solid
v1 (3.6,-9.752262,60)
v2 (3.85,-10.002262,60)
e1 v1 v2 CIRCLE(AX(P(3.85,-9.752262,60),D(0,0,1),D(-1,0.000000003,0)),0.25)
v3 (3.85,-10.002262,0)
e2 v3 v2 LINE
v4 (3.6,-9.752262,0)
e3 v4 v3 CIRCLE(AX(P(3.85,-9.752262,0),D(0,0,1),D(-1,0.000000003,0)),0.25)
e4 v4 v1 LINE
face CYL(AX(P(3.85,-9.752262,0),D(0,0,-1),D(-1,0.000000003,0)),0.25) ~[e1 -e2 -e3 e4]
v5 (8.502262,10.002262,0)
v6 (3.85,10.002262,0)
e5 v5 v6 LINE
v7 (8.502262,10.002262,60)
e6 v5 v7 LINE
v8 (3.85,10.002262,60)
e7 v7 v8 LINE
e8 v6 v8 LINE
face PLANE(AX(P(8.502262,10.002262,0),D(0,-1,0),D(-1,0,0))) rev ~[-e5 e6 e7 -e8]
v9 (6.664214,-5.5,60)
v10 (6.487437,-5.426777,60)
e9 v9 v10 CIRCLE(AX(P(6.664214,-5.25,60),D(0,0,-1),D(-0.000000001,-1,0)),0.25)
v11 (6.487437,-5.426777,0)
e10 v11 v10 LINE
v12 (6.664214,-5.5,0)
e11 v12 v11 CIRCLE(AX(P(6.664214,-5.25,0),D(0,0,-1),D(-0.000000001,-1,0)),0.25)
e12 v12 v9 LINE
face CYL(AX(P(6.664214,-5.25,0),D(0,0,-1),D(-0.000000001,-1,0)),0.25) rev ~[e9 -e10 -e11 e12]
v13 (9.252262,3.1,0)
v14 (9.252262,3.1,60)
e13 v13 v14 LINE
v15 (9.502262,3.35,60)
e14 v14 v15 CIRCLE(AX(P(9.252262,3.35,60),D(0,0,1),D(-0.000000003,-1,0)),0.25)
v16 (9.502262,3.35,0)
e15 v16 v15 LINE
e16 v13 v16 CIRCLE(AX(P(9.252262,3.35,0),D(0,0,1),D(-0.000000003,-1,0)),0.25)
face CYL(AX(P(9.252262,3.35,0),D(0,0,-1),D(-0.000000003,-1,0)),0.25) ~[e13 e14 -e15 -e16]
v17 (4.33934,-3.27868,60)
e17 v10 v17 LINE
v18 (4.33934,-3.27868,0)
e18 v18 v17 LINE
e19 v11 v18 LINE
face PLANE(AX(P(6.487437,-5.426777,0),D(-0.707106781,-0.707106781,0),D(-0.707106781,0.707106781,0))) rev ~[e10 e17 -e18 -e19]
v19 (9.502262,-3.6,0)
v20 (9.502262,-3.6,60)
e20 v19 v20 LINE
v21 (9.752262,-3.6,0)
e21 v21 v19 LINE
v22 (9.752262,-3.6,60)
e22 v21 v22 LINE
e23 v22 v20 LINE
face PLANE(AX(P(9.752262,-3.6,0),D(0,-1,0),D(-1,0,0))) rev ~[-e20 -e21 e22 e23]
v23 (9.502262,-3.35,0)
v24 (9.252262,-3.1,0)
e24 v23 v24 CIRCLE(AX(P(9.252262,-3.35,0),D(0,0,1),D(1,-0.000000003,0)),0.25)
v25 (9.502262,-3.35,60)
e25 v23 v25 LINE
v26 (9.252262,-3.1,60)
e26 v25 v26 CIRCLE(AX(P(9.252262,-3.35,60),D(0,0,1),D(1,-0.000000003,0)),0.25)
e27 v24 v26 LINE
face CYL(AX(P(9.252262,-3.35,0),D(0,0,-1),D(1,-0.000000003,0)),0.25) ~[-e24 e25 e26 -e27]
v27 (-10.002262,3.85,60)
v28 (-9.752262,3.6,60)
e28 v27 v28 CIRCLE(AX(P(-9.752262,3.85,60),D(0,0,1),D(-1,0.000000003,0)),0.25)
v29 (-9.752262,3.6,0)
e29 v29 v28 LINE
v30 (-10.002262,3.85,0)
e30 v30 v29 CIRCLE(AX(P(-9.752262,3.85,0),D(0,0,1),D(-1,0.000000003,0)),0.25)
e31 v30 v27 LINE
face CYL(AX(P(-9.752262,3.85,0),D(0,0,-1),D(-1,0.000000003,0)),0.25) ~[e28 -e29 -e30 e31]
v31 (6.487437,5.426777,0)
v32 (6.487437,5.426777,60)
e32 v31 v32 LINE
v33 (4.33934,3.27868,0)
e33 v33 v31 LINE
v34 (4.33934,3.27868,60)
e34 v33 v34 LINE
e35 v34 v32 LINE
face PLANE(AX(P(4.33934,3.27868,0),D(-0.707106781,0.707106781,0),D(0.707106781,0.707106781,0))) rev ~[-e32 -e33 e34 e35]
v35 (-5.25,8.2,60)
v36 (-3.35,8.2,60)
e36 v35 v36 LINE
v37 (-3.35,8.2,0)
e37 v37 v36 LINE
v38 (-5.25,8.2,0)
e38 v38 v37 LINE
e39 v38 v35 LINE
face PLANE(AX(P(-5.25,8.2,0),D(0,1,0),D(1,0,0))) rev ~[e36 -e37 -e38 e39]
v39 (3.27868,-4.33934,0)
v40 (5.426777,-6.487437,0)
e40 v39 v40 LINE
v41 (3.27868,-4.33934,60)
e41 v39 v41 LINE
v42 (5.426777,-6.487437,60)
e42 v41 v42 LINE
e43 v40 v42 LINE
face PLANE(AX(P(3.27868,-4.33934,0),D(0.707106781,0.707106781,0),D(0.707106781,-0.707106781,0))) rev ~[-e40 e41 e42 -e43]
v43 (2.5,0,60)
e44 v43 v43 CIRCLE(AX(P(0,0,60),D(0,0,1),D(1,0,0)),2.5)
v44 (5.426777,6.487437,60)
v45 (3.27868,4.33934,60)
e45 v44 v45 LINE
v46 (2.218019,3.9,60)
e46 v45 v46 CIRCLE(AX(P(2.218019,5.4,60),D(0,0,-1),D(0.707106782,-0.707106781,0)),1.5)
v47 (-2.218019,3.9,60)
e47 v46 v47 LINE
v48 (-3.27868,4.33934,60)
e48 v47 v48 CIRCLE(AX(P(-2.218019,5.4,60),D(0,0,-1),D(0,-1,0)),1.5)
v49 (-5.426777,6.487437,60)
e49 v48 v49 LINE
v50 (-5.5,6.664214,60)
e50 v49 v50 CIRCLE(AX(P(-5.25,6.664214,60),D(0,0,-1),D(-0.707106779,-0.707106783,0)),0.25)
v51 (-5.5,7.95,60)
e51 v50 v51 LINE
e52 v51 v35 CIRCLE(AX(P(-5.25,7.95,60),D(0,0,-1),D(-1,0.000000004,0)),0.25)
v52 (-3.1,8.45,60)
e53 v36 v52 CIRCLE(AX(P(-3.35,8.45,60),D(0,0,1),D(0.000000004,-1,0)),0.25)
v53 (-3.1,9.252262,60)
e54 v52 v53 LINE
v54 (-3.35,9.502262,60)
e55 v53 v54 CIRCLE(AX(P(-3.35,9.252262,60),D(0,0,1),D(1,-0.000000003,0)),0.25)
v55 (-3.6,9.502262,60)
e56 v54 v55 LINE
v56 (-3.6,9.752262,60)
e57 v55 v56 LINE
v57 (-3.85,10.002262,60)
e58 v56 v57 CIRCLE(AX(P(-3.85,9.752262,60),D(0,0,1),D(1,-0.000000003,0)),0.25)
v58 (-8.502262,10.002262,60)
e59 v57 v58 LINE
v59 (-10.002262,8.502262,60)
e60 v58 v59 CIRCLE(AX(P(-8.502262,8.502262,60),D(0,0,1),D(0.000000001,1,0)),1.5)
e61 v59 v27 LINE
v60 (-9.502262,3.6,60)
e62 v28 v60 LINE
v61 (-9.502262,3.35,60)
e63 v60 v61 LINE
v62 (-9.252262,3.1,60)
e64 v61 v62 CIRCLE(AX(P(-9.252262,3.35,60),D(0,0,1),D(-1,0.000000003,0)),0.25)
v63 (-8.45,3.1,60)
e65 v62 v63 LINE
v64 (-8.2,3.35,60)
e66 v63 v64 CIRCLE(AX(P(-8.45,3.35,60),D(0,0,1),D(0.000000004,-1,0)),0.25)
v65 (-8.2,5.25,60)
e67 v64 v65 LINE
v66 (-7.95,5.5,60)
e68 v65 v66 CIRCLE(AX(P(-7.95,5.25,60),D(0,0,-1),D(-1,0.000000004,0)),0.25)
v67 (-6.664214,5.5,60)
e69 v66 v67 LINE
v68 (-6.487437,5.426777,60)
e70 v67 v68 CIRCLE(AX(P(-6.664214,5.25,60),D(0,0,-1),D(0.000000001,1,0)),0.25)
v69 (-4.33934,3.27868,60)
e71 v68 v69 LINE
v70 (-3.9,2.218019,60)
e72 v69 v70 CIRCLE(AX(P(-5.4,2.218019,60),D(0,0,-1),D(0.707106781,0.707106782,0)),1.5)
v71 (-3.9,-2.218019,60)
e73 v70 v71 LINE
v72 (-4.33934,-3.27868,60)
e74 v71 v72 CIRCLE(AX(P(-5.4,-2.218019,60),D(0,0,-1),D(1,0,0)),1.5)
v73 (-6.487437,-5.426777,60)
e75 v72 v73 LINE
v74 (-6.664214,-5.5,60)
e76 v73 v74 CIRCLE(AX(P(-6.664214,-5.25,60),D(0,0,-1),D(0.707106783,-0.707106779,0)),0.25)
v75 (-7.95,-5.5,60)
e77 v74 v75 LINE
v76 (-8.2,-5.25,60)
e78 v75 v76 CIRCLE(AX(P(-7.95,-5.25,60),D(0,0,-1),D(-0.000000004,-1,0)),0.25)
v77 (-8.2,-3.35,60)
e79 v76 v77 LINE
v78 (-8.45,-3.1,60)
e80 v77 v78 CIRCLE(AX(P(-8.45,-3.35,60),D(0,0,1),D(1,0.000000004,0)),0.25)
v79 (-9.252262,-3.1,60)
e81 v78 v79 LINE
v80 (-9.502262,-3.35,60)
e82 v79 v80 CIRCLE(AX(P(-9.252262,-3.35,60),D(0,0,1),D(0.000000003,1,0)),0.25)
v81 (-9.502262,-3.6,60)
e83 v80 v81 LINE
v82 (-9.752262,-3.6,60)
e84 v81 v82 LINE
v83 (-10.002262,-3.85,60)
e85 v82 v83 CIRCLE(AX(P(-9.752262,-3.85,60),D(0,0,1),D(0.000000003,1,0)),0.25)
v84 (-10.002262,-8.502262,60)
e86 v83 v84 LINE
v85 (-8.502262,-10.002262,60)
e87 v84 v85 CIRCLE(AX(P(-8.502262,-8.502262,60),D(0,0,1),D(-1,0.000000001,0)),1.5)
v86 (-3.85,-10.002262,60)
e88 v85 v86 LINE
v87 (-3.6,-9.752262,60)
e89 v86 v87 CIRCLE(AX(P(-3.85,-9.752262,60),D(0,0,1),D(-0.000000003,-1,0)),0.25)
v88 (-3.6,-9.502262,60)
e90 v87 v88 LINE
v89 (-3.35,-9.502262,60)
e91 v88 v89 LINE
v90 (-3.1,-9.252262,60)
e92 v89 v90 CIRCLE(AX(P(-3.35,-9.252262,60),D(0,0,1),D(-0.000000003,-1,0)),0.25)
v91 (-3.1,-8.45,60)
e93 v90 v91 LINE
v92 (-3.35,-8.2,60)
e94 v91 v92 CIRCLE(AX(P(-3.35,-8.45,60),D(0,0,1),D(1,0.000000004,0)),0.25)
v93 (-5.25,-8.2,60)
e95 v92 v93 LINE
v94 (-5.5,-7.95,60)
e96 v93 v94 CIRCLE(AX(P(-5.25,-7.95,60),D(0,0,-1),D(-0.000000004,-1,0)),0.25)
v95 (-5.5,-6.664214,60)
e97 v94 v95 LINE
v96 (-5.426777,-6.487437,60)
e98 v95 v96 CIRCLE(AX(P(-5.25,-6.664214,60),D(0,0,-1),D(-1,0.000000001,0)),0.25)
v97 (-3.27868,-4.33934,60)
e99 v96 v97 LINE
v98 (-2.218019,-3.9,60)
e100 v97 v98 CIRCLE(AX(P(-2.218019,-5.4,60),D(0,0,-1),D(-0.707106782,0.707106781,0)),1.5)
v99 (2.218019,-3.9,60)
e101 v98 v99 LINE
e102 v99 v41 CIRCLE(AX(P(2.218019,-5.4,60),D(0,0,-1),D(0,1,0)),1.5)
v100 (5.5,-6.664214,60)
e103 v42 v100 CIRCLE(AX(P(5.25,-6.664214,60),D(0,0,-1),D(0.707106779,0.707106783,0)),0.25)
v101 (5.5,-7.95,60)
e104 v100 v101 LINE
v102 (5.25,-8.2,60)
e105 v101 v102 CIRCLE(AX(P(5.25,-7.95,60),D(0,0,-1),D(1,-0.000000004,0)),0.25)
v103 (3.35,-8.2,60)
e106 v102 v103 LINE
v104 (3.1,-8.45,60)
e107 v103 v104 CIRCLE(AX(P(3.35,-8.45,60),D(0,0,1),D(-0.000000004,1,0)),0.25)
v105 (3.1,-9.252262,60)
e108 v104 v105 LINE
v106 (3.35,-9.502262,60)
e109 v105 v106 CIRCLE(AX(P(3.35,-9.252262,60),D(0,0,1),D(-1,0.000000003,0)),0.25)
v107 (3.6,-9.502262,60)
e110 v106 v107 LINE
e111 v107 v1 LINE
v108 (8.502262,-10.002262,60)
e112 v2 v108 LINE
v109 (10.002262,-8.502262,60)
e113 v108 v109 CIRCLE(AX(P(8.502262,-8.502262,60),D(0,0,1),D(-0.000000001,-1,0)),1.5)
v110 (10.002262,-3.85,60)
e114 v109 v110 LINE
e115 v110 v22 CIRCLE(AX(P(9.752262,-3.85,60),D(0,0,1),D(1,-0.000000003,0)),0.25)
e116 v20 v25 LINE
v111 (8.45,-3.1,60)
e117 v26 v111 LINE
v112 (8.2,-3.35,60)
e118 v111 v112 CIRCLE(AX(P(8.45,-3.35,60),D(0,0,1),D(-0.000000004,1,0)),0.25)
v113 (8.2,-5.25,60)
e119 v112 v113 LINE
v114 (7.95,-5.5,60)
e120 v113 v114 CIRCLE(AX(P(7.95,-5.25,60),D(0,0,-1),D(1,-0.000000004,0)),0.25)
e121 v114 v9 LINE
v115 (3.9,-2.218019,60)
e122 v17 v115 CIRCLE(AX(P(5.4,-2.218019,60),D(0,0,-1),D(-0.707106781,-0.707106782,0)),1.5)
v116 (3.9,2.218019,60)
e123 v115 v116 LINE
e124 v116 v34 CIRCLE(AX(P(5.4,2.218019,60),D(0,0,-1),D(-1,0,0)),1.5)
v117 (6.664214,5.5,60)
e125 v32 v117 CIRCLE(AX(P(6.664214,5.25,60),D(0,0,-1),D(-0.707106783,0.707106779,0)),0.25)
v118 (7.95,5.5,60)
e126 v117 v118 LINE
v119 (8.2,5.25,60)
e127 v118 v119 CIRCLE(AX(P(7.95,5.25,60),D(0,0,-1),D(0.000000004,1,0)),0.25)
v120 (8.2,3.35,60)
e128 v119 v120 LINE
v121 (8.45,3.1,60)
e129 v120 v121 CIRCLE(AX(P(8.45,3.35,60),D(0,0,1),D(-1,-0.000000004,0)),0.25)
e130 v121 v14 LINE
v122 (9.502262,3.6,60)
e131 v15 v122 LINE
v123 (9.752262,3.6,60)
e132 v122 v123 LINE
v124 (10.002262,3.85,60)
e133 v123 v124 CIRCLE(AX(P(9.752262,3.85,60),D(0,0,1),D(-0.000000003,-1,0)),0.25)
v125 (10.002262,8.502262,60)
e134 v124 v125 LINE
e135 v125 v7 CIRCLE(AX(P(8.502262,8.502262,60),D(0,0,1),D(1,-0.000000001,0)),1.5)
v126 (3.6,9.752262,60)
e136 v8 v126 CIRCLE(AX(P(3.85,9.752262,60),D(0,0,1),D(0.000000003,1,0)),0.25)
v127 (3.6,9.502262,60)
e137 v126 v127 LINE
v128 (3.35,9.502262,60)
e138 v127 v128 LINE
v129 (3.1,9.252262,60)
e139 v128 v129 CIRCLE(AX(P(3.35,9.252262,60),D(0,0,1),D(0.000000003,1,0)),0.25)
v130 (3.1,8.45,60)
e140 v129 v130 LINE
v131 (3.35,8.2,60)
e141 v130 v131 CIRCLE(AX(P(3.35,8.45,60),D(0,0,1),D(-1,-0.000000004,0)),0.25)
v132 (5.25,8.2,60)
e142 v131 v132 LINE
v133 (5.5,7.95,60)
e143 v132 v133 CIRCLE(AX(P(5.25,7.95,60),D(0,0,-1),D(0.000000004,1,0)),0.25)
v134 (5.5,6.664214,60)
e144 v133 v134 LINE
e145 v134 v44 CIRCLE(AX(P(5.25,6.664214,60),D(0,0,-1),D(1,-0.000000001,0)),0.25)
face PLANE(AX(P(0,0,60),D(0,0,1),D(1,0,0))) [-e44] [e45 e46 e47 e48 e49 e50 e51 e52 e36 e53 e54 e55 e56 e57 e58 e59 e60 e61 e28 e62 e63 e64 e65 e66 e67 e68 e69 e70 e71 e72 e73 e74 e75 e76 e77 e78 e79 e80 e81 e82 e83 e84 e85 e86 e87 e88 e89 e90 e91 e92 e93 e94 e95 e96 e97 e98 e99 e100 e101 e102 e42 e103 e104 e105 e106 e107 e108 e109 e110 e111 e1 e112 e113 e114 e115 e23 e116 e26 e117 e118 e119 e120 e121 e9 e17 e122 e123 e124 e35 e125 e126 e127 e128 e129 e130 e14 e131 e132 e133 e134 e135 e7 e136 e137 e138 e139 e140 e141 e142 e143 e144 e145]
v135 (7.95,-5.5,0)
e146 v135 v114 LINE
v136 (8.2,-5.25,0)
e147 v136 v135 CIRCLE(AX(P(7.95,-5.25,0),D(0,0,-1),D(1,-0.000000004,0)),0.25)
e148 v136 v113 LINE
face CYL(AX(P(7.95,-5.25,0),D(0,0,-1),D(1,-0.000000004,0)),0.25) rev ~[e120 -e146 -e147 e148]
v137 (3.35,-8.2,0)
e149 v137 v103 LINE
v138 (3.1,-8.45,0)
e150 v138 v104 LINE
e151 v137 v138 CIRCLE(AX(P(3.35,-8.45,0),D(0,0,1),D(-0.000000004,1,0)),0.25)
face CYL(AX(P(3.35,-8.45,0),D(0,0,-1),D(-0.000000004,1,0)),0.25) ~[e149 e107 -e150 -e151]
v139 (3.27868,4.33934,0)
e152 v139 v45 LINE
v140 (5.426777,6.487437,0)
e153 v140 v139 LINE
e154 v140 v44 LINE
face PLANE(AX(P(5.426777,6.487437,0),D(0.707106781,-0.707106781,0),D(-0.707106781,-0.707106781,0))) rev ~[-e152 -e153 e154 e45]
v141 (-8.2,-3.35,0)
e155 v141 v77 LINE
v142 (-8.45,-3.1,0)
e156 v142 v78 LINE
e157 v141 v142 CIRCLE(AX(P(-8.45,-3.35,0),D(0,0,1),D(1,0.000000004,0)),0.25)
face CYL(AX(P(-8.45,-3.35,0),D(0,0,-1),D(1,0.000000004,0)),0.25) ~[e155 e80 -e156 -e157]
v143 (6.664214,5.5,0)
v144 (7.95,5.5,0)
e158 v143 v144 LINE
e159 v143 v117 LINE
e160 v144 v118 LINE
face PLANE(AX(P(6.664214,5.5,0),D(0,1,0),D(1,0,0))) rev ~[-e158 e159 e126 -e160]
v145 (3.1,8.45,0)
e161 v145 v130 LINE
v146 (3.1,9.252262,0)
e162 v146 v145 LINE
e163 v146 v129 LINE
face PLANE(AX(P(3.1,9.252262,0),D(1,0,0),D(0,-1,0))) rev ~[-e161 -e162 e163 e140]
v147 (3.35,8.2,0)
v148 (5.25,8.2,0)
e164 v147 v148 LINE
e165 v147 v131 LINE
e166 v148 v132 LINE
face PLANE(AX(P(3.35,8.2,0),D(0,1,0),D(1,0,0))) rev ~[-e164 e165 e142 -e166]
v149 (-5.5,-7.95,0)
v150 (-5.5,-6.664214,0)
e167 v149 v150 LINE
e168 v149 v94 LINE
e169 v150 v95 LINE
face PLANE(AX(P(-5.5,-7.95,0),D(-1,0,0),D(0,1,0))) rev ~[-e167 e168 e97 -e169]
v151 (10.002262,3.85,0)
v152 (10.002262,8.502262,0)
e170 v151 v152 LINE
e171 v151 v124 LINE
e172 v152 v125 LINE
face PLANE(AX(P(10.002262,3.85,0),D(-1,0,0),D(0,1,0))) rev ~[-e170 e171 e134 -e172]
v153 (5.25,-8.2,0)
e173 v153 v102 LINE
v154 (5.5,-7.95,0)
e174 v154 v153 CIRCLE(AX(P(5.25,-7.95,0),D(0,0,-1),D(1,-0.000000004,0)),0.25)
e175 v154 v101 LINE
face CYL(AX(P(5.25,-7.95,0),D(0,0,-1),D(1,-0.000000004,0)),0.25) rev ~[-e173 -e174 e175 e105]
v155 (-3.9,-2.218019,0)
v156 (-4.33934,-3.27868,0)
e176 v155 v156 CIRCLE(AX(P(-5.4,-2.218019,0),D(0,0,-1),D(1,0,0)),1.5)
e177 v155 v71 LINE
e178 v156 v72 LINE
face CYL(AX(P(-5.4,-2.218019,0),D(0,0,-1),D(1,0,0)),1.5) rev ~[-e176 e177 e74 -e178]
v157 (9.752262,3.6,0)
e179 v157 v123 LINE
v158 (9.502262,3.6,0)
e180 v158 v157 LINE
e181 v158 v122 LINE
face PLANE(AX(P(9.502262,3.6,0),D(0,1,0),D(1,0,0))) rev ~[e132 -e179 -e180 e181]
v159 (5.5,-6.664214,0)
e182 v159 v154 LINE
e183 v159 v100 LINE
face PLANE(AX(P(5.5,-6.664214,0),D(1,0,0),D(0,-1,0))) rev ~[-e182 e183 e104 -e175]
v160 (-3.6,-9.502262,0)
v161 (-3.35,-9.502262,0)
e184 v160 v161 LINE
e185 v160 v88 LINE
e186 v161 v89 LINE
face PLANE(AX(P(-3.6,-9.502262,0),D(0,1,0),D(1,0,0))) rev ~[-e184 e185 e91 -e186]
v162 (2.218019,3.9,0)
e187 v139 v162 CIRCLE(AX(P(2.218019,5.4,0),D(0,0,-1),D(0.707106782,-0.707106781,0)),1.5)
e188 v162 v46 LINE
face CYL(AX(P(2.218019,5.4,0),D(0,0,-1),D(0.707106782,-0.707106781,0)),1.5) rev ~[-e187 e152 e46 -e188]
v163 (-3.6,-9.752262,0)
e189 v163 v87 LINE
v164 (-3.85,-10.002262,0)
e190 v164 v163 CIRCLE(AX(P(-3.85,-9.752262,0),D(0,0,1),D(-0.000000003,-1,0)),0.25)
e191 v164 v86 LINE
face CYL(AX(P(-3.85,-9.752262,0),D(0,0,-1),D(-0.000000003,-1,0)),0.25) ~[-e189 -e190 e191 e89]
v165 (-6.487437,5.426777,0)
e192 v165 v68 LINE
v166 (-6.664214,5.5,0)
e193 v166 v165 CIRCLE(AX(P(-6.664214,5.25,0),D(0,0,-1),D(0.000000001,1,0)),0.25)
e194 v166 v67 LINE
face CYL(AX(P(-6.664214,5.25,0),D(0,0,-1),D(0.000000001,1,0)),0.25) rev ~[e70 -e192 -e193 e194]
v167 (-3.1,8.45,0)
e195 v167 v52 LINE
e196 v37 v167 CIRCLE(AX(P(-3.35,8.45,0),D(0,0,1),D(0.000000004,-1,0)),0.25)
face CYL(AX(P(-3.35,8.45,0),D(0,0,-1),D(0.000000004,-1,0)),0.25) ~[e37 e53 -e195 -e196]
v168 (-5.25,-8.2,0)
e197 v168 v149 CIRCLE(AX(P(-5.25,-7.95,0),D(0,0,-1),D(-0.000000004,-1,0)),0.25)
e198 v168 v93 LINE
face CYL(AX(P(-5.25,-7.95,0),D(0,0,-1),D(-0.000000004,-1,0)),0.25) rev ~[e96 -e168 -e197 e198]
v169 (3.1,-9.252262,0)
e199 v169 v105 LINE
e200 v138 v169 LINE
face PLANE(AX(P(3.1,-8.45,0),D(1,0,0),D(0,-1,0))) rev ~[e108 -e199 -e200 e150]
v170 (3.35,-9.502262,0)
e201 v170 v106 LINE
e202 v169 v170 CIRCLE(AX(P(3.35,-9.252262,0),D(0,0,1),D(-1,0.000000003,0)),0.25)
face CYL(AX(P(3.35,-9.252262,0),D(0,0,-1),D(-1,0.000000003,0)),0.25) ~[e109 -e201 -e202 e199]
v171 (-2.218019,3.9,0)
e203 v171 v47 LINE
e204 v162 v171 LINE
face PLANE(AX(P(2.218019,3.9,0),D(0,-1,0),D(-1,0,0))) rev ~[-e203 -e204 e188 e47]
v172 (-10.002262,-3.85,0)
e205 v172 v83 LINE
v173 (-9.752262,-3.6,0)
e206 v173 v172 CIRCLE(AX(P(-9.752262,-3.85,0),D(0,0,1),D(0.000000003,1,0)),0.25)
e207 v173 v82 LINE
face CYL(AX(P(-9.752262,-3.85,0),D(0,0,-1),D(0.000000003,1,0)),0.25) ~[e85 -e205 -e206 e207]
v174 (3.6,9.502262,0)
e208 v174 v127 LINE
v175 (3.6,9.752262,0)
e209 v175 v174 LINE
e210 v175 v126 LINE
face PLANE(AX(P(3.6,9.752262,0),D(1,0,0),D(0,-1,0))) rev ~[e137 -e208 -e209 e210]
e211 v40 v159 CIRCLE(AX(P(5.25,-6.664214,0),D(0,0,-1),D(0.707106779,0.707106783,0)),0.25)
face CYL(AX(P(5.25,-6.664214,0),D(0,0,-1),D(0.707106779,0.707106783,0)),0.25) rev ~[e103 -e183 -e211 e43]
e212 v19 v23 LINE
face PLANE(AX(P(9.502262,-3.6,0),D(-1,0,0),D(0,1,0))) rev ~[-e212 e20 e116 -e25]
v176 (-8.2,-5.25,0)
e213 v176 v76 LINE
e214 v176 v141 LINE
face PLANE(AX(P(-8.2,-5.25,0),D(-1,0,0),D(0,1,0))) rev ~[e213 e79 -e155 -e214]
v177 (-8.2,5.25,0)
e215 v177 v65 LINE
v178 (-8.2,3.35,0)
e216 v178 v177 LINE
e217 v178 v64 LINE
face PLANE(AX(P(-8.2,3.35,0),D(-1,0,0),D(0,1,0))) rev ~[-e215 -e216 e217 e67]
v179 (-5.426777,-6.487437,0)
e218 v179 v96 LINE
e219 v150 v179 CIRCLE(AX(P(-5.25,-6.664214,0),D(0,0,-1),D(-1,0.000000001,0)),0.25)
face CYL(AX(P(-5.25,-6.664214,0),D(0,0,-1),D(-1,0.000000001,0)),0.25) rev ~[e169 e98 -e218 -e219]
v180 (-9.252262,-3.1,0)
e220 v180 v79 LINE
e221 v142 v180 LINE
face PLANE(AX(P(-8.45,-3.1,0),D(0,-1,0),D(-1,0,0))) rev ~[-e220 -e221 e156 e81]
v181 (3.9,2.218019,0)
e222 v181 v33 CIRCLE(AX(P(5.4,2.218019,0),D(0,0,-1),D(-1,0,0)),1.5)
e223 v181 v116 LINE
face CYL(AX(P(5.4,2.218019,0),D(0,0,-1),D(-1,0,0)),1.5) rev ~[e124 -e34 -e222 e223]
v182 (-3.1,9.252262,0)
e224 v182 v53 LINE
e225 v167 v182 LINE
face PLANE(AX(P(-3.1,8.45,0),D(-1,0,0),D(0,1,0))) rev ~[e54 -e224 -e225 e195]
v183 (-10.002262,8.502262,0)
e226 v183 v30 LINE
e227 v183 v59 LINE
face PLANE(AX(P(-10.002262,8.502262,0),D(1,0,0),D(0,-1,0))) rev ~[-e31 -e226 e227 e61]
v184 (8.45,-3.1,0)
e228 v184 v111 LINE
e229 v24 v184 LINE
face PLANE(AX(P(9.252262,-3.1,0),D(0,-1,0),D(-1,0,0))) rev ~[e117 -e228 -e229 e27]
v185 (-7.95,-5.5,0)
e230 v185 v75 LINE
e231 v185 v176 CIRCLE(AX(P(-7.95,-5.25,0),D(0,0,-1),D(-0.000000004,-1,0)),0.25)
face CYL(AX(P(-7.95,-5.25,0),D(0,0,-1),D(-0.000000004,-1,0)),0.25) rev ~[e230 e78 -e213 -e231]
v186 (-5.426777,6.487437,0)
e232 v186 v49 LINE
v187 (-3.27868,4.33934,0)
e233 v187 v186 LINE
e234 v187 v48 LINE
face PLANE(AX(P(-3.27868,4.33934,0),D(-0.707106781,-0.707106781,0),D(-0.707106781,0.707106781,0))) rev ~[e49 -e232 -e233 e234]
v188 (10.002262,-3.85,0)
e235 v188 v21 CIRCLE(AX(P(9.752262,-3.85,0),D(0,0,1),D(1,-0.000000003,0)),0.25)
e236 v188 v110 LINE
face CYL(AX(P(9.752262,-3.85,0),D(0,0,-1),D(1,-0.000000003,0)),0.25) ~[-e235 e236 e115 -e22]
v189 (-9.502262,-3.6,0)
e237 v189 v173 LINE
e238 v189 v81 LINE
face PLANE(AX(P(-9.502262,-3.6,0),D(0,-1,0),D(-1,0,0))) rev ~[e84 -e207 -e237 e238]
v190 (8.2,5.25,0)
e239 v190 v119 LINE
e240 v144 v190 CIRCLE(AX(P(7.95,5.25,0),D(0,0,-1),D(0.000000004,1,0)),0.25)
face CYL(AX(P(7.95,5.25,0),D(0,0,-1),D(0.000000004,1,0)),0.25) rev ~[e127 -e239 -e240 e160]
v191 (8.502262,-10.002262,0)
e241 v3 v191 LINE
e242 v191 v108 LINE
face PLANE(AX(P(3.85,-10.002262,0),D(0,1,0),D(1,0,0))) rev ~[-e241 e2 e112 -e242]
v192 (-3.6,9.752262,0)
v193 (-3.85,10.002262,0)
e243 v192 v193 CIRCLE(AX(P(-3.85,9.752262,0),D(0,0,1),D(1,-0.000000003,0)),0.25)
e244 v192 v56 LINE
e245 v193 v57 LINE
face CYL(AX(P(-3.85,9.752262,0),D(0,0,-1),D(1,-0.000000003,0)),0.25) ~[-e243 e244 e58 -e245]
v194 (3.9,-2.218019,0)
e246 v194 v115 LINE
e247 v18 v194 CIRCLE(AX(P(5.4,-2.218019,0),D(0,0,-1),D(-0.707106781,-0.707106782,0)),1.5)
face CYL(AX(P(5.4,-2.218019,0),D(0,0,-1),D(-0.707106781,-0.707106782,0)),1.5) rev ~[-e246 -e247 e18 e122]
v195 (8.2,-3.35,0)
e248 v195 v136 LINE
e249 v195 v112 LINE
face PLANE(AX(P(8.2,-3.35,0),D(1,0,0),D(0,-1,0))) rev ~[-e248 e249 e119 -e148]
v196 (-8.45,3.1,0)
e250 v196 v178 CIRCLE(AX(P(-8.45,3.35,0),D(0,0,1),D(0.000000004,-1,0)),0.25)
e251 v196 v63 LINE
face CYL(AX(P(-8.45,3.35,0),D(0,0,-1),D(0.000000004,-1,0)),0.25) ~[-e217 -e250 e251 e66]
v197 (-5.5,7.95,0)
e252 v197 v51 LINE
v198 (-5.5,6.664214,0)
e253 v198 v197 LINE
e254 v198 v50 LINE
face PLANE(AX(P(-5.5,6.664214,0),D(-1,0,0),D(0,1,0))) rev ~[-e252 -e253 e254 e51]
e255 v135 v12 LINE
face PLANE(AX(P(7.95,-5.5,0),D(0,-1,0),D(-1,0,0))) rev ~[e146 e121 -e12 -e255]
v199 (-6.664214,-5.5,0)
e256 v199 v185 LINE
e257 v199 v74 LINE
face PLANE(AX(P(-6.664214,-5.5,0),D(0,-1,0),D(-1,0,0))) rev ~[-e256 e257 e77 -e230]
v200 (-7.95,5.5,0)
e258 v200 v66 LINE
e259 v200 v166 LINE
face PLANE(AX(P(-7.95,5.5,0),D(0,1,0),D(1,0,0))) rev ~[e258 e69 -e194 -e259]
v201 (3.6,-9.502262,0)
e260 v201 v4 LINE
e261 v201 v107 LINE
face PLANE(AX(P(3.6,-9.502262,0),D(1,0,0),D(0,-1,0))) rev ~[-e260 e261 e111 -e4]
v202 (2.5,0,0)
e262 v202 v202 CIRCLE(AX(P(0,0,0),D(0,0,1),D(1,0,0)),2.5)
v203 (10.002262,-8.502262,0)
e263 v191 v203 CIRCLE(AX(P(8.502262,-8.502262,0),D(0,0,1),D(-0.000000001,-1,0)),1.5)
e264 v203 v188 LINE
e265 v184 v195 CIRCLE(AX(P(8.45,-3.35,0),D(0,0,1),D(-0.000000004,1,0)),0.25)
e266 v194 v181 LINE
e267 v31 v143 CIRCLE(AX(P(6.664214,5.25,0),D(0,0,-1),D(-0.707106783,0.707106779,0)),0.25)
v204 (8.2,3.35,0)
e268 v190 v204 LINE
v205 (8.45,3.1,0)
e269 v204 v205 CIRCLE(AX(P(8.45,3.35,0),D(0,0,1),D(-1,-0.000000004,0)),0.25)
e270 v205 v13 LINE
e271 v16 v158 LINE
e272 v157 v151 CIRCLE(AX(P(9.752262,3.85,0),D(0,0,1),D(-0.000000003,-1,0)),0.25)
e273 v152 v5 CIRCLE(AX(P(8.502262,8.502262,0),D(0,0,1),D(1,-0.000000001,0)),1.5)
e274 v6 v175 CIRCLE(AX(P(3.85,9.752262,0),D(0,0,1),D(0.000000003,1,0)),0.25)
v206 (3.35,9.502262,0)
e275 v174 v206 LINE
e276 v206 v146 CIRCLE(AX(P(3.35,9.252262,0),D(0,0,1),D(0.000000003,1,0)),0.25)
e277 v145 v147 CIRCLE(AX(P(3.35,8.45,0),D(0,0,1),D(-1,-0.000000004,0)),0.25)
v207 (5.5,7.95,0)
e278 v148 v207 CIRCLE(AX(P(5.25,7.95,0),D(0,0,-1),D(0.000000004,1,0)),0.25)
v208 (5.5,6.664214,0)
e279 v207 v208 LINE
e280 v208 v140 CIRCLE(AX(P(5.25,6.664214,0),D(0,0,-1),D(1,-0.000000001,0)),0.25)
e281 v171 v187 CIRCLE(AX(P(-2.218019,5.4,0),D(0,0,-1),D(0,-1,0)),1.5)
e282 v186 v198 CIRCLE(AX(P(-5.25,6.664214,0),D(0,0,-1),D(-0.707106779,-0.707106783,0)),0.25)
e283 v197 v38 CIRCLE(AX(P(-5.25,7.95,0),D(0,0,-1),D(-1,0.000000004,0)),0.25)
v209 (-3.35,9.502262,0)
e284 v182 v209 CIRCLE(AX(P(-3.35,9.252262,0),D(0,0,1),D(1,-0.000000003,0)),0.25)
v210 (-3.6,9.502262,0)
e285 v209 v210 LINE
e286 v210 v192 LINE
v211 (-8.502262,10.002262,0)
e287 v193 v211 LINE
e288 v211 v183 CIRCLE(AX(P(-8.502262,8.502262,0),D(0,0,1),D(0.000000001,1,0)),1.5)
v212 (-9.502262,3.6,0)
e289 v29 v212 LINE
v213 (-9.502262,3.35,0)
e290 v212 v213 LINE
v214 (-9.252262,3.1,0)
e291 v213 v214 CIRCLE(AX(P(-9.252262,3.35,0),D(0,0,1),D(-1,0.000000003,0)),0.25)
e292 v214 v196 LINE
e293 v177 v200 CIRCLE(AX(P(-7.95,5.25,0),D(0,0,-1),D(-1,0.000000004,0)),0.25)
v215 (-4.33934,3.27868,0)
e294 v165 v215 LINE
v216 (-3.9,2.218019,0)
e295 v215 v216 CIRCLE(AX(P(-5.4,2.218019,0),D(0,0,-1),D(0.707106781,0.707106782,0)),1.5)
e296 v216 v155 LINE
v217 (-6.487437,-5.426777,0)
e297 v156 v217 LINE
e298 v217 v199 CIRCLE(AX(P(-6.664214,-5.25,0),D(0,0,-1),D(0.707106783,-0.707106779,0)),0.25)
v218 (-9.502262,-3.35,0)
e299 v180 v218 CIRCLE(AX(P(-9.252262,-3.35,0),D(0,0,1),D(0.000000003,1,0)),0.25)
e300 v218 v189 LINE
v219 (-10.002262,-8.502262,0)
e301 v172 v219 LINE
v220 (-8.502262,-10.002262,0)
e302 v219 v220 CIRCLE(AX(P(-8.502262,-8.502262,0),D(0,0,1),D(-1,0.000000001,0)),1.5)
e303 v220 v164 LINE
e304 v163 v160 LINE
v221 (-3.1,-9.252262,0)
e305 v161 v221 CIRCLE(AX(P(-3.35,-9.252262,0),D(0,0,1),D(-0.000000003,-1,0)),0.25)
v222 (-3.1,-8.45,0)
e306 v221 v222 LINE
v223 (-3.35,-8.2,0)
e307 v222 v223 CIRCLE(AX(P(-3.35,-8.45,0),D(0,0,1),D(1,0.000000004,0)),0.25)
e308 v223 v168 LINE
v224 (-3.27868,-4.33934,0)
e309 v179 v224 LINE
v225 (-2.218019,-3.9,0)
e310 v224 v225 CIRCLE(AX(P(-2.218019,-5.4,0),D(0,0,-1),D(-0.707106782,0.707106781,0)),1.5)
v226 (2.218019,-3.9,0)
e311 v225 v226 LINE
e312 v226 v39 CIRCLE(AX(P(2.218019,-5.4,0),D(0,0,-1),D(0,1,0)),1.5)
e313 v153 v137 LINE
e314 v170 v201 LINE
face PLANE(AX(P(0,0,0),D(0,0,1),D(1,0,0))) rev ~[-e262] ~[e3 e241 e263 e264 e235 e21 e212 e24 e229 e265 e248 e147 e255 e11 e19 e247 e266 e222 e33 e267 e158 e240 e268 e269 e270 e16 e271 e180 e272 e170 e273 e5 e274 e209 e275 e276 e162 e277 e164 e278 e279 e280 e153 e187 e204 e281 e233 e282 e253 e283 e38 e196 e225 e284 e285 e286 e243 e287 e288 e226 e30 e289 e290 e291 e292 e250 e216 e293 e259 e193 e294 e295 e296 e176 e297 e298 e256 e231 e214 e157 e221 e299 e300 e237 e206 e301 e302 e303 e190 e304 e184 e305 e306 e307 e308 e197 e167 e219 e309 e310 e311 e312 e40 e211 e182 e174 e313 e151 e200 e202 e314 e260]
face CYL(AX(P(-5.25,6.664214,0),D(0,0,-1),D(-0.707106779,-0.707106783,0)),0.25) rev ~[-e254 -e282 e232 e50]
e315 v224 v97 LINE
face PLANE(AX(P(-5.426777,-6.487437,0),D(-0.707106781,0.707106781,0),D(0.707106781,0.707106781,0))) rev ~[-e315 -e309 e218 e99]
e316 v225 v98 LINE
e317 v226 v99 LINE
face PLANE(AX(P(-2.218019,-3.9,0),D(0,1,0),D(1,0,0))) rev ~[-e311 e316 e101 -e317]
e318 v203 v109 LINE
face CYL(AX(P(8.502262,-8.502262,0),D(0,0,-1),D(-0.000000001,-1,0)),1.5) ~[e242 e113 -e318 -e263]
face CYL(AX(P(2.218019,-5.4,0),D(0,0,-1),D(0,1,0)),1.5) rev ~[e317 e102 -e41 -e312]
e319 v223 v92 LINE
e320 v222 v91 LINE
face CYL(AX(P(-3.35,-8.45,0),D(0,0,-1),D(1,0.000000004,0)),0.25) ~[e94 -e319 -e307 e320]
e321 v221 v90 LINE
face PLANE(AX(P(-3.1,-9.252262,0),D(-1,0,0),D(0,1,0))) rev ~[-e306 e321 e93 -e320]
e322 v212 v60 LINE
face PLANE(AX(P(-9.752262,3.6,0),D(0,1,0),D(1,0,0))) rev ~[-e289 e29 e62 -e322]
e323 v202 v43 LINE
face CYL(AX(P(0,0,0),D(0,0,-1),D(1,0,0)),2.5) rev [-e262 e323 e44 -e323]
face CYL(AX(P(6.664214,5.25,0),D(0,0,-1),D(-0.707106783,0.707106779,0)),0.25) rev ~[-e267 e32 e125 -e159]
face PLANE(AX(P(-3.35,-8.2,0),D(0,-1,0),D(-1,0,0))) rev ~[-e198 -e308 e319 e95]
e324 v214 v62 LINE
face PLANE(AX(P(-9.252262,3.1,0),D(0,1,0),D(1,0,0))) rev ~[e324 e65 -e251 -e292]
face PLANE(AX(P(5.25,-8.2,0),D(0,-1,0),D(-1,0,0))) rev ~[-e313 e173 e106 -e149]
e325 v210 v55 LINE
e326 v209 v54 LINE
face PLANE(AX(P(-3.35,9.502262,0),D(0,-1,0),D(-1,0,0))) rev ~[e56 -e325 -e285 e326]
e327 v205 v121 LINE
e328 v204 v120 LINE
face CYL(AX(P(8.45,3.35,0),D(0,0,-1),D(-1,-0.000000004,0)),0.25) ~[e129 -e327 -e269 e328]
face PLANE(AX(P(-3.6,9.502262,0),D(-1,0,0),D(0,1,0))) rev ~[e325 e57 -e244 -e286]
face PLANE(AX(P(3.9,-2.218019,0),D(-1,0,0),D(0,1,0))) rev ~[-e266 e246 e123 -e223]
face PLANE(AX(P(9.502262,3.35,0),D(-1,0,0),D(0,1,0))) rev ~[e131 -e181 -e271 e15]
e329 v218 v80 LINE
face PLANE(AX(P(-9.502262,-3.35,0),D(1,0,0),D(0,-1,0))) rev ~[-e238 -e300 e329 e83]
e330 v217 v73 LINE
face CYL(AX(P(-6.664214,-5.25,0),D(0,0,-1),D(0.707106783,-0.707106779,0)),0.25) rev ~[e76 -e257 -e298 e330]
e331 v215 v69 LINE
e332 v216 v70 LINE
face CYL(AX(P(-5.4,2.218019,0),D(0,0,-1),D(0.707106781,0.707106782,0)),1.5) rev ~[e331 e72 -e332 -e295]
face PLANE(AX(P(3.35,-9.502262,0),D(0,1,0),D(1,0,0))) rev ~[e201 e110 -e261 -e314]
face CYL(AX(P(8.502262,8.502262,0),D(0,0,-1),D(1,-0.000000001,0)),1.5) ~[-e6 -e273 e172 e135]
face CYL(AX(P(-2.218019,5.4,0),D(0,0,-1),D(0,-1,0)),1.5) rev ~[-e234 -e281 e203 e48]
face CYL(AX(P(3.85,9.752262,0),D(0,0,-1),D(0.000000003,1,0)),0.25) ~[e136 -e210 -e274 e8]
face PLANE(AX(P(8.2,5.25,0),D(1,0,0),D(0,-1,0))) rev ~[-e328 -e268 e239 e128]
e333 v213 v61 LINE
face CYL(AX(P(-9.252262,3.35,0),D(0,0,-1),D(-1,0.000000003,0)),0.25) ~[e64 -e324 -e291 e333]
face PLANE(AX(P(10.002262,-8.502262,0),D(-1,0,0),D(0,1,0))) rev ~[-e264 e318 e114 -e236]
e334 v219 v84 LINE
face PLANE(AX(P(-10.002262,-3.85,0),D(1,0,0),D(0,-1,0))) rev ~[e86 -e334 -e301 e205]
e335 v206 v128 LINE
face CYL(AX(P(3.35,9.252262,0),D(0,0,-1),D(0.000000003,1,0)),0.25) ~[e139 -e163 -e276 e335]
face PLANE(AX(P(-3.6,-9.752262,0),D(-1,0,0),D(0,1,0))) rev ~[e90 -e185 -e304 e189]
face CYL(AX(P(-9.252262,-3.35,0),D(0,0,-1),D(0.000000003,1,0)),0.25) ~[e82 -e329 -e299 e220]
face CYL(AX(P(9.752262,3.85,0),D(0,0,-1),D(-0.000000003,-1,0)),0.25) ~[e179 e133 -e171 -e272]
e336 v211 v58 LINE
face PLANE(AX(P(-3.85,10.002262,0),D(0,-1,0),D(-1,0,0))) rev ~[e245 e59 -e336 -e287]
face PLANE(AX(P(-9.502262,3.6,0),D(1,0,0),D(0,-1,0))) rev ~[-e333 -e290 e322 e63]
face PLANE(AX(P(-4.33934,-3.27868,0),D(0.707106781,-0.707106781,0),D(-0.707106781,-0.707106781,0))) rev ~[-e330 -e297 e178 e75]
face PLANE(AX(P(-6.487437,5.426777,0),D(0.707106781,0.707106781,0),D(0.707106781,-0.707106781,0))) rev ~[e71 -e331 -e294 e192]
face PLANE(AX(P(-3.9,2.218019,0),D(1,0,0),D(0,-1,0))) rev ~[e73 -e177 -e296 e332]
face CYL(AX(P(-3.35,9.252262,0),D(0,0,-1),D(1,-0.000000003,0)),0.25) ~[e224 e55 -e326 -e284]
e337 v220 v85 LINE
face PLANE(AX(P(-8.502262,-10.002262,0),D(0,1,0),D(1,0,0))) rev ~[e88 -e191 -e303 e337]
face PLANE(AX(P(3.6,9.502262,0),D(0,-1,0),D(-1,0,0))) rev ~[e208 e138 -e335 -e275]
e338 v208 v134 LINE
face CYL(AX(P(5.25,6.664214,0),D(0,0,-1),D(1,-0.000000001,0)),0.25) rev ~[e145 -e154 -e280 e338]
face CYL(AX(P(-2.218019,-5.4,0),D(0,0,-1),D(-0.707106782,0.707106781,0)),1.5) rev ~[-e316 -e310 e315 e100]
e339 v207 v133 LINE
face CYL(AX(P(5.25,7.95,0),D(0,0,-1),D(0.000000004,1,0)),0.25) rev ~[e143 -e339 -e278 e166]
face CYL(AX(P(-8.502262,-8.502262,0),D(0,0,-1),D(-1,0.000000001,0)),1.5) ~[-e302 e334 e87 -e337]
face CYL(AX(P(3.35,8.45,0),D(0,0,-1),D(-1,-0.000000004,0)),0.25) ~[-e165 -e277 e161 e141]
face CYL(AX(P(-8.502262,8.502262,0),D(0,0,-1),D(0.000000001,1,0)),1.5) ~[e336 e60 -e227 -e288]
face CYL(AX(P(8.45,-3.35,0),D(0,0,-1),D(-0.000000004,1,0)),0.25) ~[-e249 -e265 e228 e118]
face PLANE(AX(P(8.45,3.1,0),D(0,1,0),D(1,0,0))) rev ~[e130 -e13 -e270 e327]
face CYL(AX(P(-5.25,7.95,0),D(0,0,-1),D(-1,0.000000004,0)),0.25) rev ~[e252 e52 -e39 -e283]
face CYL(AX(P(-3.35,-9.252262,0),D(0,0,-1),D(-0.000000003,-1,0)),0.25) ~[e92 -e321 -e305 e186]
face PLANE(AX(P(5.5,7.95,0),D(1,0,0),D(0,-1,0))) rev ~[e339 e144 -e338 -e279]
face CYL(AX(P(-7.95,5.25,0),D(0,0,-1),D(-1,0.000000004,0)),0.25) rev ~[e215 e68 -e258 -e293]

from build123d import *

# Parameters (mm, degrees)
SKETCH_1_R      = 2.5
EXTRUDE_1_DEPTH = 60


with BuildPart() as part:
    # 草图1 → 凸台-拉伸1 (new body)
    with BuildSketch(Plane.XY):
        with BuildLine():
            Line((-8.502261885, -10.002261885), (-3.85, -10.002261885))
            ThreePointArc((-3.85, -10.002261885), (-3.673223305, -9.929038581), (-3.6, -9.752261885))
            Line((-3.6, -9.752261885), (-3.6, -9.502261885))
            Line((-3.6, -9.502261885), (-3.35, -9.502261885))
            ThreePointArc((-3.35, -9.502261885), (-3.173223305, -9.429038581), (-3.1, -9.252261885))
            Line((-3.1, -9.252261885), (-3.1, -8.45))
            ThreePointArc((-3.1, -8.45), (-3.173223305, -8.273223305), (-3.35, -8.2))
            Line((-3.35, -8.2), (-5.25, -8.2))
            ThreePointArc((-5.25, -8.2), (-5.426776695, -8.126776695), (-5.5, -7.95))
            Line((-5.5, -7.95), (-5.5, -6.664213562))
            ThreePointArc((-5.5, -6.664213562), (-5.480969883, -6.568542704), (-5.426776695, -6.487436867))
            Line((-5.426776695, -6.487436867), (-3.278679656, -4.339339828))
            ThreePointArc((-3.278679656, -4.339339828), (-2.792044633, -4.014180701), (-2.218019485, -3.9))
            Line((-2.218019485, -3.9), (2.218019485, -3.9))
            ThreePointArc((2.218019485, -3.9), (2.792044633, -4.014180701), (3.278679656, -4.339339828))
            Line((3.278679656, -4.339339828), (5.426776695, -6.487436867))
            ThreePointArc((5.426776695, -6.487436867), (5.480969883, -6.568542704), (5.5, -6.664213562))
            Line((5.5, -6.664213562), (5.5, -7.95))
            ThreePointArc((5.5, -7.95), (5.426776695, -8.126776695), (5.25, -8.2))
            Line((5.25, -8.2), (3.35, -8.2))
            ThreePointArc((3.35, -8.2), (3.173223305, -8.273223305), (3.1, -8.45))
            Line((3.1, -8.45), (3.1, -9.252261885))
            ThreePointArc((3.1, -9.252261885), (3.173223305, -9.429038581), (3.35, -9.502261885))
            Line((3.35, -9.502261885), (3.6, -9.502261885))
            Line((3.6, -9.502261885), (3.6, -9.752261885))
            ThreePointArc((3.6, -9.752261885), (3.673223305, -9.929038581), (3.85, -10.002261885))
            Line((3.85, -10.002261885), (8.502261885, -10.002261885))
            ThreePointArc((8.502261885, -10.002261885), (9.562922057, -9.562922057), (10.002261885, -8.502261885))
            Line((10.002261885, -8.502261885), (10.002261885, -3.85))
            ThreePointArc((10.002261885, -3.85), (9.929038581, -3.673223305), (9.752261885, -3.6))
            Line((9.752261885, -3.6), (9.502261885, -3.6))
            Line((9.502261885, -3.6), (9.502261885, -3.35))
            ThreePointArc((9.502261885, -3.35), (9.429038581, -3.173223305), (9.252261885, -3.1))
            Line((9.252261885, -3.1), (8.45, -3.1))
            ThreePointArc((8.45, -3.1), (8.273223305, -3.173223305), (8.2, -3.35))
            Line((8.2, -3.35), (8.2, -5.25))
            ThreePointArc((8.2, -5.25), (8.126776695, -5.426776695), (7.95, -5.5))
            Line((7.95, -5.5), (6.664213562, -5.5))
            ThreePointArc((6.664213562, -5.5), (6.568542704, -5.480969883), (6.487436867, -5.426776695))
            Line((6.487436867, -5.426776695), (4.339339828, -3.278679656))
            ThreePointArc((4.339339828, -3.278679656), (4.014180701, -2.792044633), (3.9, -2.218019485))
            Line((3.9, -2.218019485), (3.9, 2.218019485))
            ThreePointArc((3.9, 2.218019485), (4.014180701, 2.792044633), (4.339339828, 3.278679656))
            Line((4.339339828, 3.278679656), (6.487436867, 5.426776695))
            ThreePointArc((6.487436867, 5.426776695), (6.568542704, 5.480969883), (6.664213562, 5.5))
            Line((6.664213562, 5.5), (7.95, 5.5))
            ThreePointArc((7.95, 5.5), (8.126776695, 5.426776695), (8.2, 5.25))
            Line((8.2, 5.25), (8.2, 3.35))
            ThreePointArc((8.2, 3.35), (8.273223305, 3.173223305), (8.45, 3.1))
            Line((8.45, 3.1), (9.252261885, 3.1))
            ThreePointArc((9.252261885, 3.1), (9.429038581, 3.173223305), (9.502261885, 3.35))
            Line((9.502261885, 3.35), (9.502261885, 3.6))
            Line((9.502261885, 3.6), (9.752261885, 3.6))
            ThreePointArc((9.752261885, 3.6), (9.929038581, 3.673223305), (10.002261885, 3.85))
            Line((10.002261885, 3.85), (10.002261885, 8.502261885))
            ThreePointArc((10.002261885, 8.502261885), (9.562922057, 9.562922057), (8.502261885, 10.002261885))
            Line((8.502261885, 10.002261885), (3.85, 10.002261885))
            ThreePointArc((3.85, 10.002261885), (3.673223305, 9.929038581), (3.6, 9.752261885))
            Line((3.6, 9.752261885), (3.6, 9.502261885))
            Line((3.6, 9.502261885), (3.35, 9.502261885))
            ThreePointArc((3.35, 9.502261885), (3.173223305, 9.429038581), (3.1, 9.252261885))
            Line((3.1, 9.252261885), (3.1, 8.45))
            ThreePointArc((3.1, 8.45), (3.173223305, 8.273223305), (3.35, 8.2))
            Line((3.35, 8.2), (5.25, 8.2))
            ThreePointArc((5.25, 8.2), (5.426776695, 8.126776695), (5.5, 7.95))
            Line((5.5, 7.95), (5.5, 6.664213562))
            ThreePointArc((5.5, 6.664213562), (5.480969883, 6.568542704), (5.426776695, 6.487436867))
            Line((5.426776695, 6.487436867), (3.278679656, 4.339339828))
            ThreePointArc((3.278679656, 4.339339828), (2.792044633, 4.014180701), (2.218019485, 3.9))
            Line((2.218019485, 3.9), (-2.218019485, 3.9))
            ThreePointArc((-2.218019485, 3.9), (-2.792044633, 4.014180701), (-3.278679656, 4.339339828))
            Line((-3.278679656, 4.339339828), (-5.426776695, 6.487436867))
            ThreePointArc((-5.426776695, 6.487436867), (-5.480969883, 6.568542704), (-5.5, 6.664213562))
            Line((-5.5, 6.664213562), (-5.5, 7.95))
            ThreePointArc((-5.5, 7.95), (-5.426776695, 8.126776695), (-5.25, 8.2))
            Line((-5.25, 8.2), (-3.35, 8.2))
            ThreePointArc((-3.35, 8.2), (-3.173223305, 8.273223305), (-3.1, 8.45))
            Line((-3.1, 8.45), (-3.1, 9.252261885))
            ThreePointArc((-3.1, 9.252261885), (-3.173223305, 9.429038581), (-3.35, 9.502261885))
            Line((-3.35, 9.502261885), (-3.6, 9.502261885))
            Line((-3.6, 9.502261885), (-3.6, 9.752261885))
            ThreePointArc((-3.6, 9.752261885), (-3.673223305, 9.929038581), (-3.85, 10.002261885))
            Line((-3.85, 10.002261885), (-8.502261885, 10.002261885))
            ThreePointArc((-8.502261885, 10.002261885), (-9.562922057, 9.562922057), (-10.002261885, 8.502261885))
            Line((-10.002261885, 8.502261885), (-10.002261885, 3.85))
            ThreePointArc((-10.002261885, 3.85), (-9.929038581, 3.673223305), (-9.752261885, 3.6))
            Line((-9.752261885, 3.6), (-9.502261885, 3.6))
            Line((-9.502261885, 3.6), (-9.502261885, 3.35))
            ThreePointArc((-9.502261885, 3.35), (-9.429038581, 3.173223305), (-9.252261885, 3.1))
            Line((-9.252261885, 3.1), (-8.45, 3.1))
            ThreePointArc((-8.45, 3.1), (-8.273223305, 3.173223305), (-8.2, 3.35))
            Line((-8.2, 3.35), (-8.2, 5.25))
            ThreePointArc((-8.2, 5.25), (-8.126776695, 5.426776695), (-7.95, 5.5))
            Line((-7.95, 5.5), (-6.664213562, 5.5))
            ThreePointArc((-6.664213562, 5.5), (-6.568542704, 5.480969883), (-6.487436867, 5.426776695))
            Line((-6.487436867, 5.426776695), (-4.339339828, 3.278679656))
            ThreePointArc((-4.339339828, 3.278679656), (-4.014180701, 2.792044633), (-3.9, 2.218019485))
            Line((-3.9, 2.218019485), (-3.9, -2.218019485))
            ThreePointArc((-3.9, -2.218019485), (-4.014180701, -2.792044633), (-4.339339828, -3.278679656))
            Line((-4.339339828, -3.278679656), (-6.487436867, -5.426776695))
            ThreePointArc((-6.487436867, -5.426776695), (-6.568542704, -5.480969883), (-6.664213562, -5.5))
            Line((-6.664213562, -5.5), (-7.95, -5.5))
            ThreePointArc((-7.95, -5.5), (-8.126776695, -5.426776695), (-8.2, -5.25))
            Line((-8.2, -5.25), (-8.2, -3.35))
            ThreePointArc((-8.2, -3.35), (-8.273223305, -3.173223305), (-8.45, -3.1))
            Line((-8.45, -3.1), (-9.252261885, -3.1))
            ThreePointArc((-9.252261885, -3.1), (-9.429038581, -3.173223305), (-9.502261885, -3.35))
            Line((-9.502261885, -3.35), (-9.502261885, -3.6))
            Line((-9.502261885, -3.6), (-9.752261885, -3.6))
            ThreePointArc((-9.752261885, -3.6), (-9.929038581, -3.673223305), (-10.002261885, -3.85))
            Line((-10.002261885, -3.85), (-10.002261885, -8.502261885))
            ThreePointArc((-10.002261885, -8.502261885), (-9.562922057, -9.562922057), (-8.502261885, -10.002261885))
        make_face()
        Circle(SKETCH_1_R, mode=Mode.SUBTRACT)
    extrude(amount=EXTRUDE_1_DEPTH)


solid = part.part
